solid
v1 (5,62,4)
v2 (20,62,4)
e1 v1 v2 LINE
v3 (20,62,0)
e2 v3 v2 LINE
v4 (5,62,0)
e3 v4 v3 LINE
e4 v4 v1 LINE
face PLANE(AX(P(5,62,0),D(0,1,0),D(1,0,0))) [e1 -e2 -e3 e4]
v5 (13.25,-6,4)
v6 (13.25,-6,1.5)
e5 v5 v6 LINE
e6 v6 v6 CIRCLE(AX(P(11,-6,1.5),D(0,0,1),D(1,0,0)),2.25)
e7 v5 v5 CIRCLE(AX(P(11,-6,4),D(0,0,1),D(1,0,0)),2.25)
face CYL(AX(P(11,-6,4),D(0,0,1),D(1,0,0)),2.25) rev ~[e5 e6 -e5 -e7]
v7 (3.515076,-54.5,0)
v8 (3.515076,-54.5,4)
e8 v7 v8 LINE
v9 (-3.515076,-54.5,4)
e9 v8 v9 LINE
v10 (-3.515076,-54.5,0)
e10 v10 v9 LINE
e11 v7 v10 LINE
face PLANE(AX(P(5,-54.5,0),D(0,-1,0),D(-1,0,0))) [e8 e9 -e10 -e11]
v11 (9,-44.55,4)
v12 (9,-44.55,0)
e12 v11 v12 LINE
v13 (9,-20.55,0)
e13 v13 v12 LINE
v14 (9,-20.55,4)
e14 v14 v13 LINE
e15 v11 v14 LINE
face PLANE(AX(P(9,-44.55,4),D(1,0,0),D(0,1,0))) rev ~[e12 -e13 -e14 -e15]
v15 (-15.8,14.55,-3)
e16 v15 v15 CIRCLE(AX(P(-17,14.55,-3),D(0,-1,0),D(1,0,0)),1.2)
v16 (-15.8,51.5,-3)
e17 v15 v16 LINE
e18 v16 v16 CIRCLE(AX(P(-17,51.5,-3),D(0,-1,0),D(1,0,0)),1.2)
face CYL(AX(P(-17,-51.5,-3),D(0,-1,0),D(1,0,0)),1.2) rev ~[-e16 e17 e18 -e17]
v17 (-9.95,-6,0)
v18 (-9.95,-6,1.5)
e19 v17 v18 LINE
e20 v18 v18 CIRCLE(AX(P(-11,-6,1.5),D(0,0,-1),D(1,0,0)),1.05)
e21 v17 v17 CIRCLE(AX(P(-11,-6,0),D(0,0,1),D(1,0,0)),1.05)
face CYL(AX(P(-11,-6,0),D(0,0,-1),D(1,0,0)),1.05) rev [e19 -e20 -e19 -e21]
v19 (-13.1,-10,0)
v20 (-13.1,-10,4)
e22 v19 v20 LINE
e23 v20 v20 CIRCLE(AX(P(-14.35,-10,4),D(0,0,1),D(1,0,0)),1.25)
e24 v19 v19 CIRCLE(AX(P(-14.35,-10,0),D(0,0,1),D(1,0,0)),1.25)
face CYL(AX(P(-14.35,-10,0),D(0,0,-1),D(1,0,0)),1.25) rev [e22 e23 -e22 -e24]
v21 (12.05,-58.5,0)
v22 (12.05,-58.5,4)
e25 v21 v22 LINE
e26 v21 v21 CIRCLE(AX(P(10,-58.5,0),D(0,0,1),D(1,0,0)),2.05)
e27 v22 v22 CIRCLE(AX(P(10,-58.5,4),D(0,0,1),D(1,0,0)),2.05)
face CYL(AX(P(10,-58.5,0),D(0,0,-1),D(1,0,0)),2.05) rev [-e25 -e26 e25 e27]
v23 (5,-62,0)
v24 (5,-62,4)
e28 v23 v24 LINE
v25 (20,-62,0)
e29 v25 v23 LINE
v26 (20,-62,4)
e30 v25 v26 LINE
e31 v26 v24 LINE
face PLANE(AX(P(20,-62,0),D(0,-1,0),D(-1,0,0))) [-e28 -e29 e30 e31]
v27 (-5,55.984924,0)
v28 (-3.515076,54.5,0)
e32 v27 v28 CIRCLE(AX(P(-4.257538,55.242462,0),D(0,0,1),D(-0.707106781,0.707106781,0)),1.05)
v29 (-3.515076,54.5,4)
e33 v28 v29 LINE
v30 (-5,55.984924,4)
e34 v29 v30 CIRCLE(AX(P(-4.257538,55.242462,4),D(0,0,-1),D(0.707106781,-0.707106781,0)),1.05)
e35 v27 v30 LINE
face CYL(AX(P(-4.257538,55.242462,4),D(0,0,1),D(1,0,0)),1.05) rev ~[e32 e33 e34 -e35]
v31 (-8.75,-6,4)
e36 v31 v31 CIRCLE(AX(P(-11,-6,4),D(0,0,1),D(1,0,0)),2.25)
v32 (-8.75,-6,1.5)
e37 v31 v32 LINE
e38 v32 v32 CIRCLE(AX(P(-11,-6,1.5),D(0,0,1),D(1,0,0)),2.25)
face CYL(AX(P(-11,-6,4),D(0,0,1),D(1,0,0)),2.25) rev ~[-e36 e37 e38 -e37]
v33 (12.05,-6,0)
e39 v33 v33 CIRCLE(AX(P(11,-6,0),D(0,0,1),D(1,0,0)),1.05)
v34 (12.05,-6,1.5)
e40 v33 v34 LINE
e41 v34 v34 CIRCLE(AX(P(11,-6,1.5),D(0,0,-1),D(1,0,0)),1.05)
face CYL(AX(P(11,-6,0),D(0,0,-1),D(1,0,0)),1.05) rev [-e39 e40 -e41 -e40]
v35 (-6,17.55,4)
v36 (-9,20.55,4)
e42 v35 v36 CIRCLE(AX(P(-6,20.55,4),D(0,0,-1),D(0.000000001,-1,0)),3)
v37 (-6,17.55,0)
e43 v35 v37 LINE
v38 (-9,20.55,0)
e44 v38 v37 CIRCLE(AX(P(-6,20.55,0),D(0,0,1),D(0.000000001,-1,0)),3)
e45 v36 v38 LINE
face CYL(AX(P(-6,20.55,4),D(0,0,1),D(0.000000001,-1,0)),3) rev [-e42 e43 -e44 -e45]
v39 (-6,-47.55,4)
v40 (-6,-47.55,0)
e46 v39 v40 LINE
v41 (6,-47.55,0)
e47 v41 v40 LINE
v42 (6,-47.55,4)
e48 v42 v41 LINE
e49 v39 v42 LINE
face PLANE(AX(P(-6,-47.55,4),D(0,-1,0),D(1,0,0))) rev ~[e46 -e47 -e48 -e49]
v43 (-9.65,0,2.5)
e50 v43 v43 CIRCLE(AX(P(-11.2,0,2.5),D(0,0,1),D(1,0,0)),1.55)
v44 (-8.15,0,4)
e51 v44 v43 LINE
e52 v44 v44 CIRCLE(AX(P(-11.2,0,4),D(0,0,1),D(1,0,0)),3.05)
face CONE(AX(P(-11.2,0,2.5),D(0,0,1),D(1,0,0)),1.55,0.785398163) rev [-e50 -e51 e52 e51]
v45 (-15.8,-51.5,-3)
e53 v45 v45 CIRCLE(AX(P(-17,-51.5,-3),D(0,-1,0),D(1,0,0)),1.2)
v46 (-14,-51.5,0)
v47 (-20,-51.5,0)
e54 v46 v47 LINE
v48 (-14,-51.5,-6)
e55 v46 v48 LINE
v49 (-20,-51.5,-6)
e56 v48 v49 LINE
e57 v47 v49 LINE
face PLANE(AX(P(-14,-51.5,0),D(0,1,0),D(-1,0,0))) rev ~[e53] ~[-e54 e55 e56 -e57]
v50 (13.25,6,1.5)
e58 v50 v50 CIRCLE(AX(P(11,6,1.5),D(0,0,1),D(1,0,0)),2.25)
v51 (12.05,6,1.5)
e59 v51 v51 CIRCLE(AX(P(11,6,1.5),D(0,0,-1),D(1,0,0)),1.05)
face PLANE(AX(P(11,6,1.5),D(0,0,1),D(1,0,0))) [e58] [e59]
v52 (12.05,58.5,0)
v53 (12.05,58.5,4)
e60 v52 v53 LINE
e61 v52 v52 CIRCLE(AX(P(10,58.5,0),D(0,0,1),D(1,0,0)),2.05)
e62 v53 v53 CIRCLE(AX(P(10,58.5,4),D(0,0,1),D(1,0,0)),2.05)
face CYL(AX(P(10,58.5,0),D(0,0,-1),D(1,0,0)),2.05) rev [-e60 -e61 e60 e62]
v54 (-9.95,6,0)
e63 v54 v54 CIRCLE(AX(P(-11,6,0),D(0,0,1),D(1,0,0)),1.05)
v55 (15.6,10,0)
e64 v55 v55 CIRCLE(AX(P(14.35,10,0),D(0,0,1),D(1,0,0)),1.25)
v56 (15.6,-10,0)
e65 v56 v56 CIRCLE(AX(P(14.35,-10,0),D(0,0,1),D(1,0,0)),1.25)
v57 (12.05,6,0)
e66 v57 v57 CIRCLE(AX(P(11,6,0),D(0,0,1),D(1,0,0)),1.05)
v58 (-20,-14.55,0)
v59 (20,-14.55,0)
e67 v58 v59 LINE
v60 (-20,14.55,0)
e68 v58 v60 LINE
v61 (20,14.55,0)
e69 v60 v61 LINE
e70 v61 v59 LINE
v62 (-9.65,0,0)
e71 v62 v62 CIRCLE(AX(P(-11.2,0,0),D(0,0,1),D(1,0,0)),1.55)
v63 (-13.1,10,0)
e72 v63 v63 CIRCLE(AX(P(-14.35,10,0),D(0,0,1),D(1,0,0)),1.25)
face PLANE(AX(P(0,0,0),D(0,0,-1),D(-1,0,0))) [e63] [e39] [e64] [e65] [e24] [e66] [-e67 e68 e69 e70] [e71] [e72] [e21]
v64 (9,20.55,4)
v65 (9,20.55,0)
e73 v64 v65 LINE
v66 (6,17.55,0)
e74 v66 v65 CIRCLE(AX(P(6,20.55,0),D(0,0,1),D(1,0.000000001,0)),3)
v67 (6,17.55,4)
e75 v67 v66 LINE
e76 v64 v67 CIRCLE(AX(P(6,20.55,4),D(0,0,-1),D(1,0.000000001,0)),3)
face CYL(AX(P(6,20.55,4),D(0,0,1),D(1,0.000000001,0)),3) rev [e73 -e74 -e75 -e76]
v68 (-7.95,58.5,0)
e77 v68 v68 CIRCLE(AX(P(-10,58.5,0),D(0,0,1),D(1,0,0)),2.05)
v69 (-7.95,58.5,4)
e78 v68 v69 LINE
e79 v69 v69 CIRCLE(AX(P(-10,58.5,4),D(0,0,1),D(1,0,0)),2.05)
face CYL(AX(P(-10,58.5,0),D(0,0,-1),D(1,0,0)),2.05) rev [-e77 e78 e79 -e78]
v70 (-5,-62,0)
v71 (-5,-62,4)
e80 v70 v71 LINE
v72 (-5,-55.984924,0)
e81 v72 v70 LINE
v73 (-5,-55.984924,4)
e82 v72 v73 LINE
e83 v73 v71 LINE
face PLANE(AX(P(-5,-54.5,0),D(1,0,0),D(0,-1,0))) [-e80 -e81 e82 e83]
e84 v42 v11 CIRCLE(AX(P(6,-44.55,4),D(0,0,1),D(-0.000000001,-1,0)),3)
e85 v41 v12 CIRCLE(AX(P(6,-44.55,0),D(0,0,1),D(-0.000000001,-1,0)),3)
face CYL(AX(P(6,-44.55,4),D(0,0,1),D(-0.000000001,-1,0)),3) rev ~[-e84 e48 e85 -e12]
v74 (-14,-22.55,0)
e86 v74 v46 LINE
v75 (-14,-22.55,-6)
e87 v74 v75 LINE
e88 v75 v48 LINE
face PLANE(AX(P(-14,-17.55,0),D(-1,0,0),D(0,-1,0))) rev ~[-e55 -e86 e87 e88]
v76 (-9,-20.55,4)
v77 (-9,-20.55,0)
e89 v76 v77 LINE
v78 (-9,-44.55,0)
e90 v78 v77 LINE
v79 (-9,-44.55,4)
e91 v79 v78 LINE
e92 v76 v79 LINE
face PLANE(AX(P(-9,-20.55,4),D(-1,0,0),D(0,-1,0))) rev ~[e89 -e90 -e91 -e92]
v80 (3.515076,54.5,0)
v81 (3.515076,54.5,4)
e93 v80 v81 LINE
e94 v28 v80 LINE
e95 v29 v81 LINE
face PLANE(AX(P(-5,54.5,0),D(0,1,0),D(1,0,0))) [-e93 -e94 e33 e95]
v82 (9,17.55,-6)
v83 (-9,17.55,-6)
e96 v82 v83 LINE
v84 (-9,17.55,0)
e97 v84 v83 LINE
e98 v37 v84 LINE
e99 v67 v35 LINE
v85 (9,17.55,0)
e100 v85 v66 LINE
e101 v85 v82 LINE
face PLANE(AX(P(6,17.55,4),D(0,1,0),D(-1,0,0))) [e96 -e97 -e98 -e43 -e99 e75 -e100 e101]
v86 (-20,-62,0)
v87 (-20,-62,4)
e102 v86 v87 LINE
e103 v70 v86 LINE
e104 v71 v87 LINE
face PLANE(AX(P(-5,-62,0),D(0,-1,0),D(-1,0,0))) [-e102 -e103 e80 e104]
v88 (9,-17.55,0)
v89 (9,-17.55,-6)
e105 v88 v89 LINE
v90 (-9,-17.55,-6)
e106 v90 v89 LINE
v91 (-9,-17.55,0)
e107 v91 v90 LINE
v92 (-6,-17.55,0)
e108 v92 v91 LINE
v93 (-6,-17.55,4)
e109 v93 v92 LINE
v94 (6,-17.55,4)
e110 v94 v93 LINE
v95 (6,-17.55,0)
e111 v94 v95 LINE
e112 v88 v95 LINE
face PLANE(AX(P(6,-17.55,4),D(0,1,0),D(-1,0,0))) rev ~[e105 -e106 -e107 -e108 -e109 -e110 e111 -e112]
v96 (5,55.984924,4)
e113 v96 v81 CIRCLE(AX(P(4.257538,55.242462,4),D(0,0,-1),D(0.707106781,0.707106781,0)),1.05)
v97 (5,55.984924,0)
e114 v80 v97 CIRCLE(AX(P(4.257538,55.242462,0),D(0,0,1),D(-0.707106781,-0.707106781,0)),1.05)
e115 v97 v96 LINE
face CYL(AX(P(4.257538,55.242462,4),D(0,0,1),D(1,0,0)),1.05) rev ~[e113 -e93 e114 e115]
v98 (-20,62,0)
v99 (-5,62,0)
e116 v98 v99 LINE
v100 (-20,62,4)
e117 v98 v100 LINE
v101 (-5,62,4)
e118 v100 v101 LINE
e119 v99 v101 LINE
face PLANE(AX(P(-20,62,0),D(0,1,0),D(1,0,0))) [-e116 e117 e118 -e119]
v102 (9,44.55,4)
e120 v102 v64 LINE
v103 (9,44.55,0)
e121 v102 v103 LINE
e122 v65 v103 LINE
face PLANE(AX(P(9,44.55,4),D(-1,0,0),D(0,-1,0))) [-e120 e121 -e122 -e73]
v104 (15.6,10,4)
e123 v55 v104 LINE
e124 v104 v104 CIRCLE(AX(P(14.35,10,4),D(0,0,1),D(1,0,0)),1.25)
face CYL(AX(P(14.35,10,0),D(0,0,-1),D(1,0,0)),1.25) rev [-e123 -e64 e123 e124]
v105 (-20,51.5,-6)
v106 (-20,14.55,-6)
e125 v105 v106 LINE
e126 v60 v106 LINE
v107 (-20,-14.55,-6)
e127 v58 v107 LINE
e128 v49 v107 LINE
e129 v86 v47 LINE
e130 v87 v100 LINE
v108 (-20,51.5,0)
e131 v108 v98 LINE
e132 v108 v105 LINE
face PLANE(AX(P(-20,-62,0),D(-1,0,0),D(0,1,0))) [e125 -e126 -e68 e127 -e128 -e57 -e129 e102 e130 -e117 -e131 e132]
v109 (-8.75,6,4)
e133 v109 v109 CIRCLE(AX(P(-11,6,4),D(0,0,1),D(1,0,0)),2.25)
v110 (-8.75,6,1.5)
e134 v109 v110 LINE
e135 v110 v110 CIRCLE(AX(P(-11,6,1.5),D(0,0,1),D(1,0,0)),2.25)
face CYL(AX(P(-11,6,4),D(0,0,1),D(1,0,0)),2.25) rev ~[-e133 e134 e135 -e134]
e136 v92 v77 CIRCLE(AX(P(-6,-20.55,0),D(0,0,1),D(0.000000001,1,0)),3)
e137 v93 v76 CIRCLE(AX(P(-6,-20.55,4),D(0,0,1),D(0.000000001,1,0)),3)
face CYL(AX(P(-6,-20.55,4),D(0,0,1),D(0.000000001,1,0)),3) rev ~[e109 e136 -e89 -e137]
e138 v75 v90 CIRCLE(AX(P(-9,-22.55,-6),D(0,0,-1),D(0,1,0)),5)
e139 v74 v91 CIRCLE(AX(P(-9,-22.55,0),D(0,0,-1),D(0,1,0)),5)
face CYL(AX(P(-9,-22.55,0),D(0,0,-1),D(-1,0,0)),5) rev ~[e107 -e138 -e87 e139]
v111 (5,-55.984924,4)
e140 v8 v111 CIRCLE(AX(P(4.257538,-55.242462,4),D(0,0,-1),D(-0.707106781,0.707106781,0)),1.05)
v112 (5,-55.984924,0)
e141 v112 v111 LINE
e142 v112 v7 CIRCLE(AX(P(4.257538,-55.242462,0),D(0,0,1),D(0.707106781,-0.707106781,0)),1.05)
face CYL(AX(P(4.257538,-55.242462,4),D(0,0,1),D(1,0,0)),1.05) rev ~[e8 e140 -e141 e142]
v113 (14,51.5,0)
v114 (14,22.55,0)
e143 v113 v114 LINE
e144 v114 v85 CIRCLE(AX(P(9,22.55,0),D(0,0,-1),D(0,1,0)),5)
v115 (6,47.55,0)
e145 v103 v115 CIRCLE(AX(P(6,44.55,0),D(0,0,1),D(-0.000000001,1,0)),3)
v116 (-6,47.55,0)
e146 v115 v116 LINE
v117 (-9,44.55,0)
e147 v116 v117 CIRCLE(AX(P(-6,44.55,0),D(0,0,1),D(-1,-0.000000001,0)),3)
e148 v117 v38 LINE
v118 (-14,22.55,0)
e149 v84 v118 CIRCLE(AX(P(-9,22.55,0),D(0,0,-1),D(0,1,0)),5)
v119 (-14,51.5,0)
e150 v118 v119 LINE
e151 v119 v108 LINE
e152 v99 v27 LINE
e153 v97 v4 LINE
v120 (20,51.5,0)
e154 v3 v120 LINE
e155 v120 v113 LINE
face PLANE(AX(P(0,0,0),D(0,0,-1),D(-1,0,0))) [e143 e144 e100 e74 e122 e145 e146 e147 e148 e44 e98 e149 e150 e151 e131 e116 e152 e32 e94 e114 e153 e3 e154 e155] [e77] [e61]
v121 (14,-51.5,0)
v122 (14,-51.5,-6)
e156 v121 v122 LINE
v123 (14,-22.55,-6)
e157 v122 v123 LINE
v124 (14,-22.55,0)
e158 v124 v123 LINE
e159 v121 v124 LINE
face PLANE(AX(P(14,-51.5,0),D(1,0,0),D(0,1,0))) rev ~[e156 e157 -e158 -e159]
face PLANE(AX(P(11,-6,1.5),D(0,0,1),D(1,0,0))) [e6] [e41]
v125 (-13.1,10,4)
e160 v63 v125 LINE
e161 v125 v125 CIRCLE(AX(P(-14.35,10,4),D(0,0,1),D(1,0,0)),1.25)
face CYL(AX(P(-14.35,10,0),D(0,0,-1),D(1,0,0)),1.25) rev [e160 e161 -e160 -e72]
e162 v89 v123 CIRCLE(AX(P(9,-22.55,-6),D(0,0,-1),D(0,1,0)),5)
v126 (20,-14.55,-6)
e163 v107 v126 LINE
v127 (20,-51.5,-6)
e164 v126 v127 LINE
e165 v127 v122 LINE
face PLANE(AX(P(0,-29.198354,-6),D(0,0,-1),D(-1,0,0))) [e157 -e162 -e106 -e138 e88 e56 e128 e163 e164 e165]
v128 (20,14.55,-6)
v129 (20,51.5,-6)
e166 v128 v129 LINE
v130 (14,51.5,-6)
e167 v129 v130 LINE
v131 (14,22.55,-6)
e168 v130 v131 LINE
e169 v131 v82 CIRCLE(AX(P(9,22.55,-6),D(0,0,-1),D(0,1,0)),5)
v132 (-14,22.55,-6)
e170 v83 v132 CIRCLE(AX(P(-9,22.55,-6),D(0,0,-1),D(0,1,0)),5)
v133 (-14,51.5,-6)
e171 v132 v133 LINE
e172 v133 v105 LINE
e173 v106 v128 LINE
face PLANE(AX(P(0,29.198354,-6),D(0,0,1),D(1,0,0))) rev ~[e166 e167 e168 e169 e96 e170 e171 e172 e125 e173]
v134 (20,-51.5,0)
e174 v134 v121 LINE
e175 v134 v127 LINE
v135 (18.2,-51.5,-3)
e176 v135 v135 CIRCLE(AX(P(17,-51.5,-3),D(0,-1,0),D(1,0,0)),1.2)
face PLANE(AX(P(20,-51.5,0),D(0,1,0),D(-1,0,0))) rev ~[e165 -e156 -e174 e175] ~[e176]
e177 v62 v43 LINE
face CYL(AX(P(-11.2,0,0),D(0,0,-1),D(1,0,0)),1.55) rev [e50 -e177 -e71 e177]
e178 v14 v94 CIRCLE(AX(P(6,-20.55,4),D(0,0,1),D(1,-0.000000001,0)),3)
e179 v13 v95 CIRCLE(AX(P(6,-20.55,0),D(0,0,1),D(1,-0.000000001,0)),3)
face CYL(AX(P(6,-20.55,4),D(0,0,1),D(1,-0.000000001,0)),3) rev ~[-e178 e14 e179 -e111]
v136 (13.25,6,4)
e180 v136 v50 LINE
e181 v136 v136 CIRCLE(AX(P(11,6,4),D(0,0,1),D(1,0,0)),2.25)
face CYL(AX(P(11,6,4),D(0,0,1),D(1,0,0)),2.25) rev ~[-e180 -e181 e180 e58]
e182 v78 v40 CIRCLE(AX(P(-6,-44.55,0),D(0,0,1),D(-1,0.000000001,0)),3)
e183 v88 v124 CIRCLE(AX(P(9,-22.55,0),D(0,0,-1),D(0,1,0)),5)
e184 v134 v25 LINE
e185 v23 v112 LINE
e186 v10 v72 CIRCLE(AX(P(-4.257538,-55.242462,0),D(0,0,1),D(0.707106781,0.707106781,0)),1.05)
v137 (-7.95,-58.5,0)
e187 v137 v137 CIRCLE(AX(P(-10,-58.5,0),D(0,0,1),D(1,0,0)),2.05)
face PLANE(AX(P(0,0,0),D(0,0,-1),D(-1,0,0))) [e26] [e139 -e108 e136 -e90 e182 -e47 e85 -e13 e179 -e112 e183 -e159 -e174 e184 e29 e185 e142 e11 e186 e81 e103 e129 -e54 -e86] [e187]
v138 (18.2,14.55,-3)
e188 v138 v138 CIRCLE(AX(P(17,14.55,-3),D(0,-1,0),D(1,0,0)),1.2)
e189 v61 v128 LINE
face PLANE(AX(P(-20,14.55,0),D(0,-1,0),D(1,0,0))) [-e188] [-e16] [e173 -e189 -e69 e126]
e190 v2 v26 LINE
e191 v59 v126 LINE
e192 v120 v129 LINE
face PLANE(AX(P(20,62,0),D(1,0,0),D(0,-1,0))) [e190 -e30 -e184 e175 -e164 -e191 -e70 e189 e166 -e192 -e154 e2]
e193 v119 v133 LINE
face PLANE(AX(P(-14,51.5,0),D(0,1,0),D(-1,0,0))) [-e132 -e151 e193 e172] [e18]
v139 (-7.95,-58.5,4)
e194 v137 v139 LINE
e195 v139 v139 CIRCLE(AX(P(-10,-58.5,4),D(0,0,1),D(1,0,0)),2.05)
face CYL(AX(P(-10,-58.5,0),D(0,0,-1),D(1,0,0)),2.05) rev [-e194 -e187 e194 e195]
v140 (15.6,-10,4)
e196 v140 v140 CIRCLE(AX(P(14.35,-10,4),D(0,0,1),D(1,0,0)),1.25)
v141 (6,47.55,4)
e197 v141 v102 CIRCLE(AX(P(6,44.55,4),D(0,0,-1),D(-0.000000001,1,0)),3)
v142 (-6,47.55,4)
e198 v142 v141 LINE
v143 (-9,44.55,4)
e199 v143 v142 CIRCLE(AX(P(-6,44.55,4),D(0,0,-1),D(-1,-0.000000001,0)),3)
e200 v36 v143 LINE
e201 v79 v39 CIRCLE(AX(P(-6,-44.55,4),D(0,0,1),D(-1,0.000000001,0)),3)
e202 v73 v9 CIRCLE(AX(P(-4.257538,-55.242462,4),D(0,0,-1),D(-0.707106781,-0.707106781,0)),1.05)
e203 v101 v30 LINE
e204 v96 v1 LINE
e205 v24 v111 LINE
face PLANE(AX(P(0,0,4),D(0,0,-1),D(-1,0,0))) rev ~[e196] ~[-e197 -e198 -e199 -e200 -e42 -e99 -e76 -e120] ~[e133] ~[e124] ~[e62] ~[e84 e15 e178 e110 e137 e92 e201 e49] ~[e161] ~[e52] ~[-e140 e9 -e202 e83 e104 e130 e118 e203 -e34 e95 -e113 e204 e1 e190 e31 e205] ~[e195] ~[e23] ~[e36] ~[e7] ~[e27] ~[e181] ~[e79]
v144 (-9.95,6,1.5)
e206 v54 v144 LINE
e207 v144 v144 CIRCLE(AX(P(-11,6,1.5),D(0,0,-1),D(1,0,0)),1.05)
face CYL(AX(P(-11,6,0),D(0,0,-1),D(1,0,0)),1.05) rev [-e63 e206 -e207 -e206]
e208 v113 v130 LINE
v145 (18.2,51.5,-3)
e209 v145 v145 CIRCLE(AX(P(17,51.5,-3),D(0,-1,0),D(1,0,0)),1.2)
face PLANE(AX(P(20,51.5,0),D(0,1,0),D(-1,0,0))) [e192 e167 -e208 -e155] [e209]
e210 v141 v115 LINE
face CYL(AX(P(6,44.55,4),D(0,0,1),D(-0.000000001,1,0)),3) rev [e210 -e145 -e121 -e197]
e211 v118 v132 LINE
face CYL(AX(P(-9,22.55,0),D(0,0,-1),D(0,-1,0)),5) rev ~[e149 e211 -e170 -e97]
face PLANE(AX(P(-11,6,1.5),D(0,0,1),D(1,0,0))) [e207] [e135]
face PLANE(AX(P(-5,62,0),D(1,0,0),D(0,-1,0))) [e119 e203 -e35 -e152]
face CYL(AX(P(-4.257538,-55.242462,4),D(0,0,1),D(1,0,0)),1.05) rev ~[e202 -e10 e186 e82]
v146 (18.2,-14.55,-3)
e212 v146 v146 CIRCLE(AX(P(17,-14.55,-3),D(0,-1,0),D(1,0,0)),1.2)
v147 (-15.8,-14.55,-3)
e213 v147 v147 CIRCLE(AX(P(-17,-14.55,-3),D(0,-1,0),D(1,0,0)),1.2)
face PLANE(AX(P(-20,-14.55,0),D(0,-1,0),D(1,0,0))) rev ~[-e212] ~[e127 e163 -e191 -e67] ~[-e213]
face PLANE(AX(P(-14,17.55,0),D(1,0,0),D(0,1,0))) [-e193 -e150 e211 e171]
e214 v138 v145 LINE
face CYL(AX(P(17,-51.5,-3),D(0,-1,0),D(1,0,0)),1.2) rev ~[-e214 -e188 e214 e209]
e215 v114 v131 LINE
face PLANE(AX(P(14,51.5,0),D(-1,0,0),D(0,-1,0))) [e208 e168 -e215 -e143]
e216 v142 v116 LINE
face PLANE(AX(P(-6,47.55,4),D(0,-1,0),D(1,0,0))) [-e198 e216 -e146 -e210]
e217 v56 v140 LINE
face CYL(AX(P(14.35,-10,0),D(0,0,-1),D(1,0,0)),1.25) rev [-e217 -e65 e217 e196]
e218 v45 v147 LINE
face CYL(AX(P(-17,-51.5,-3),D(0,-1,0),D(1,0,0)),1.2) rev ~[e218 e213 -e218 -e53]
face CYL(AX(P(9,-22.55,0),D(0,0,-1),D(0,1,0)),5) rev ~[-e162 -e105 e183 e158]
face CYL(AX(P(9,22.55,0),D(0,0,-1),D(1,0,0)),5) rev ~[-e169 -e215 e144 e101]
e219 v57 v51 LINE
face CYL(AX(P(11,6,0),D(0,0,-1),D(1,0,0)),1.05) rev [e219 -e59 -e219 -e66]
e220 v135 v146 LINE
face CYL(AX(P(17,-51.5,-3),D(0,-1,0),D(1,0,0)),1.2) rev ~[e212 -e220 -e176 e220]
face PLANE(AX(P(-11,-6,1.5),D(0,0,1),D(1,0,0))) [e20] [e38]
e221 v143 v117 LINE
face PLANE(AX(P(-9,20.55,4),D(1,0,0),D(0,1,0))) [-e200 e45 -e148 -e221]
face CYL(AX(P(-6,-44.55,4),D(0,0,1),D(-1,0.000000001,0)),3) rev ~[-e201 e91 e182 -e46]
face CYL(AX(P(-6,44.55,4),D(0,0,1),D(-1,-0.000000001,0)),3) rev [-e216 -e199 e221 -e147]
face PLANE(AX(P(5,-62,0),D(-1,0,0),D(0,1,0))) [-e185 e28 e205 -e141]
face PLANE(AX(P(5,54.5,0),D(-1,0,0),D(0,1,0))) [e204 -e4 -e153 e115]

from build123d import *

# Parameters (mm, degrees)
SKETCH_1_R               = 2.05
SKETCH_1_R_2             = 1.05
SKETCH_1_R_3             = 1.55
SKETCH_1_R_4             = 1.25
EXTRUDE_1_DEPTH          = 4
EXTRUDE_START            = -4
EXTRUDE_2_DEPTH          = 6
SKETCH_4_R               = 1.05
CUT_EXTRUDE_2_DEPTH      = 11
SKETCH_5_R               = 1.2
CUT_EXTRUDE_3_DEPTH      = 114.5
FILLET_1_R               = 5
SKETCH_6_R               = 2.25
CUT_EXTRUDE_4_DEPTH      = 2.5
CHAMFER_1_SIZE           = 1.5
CUT_EXTRUDE_6_DEPTH      = 1
CUT_EXTRUDE_6_DEPTH_BACK = 11


with BuildPart() as part:
    # 草图1 → 凸台-拉伸1 (new body)
    with BuildSketch(Plane.XY):
        Polygon((20, -62), (5, -62), (5, -54.5), (-5, -54.5), (-5, -62), (-20, -62), (-20, 62), (-5, 62), (-5, 54.5), (5, 54.5), (5, 62), (20, 62), align=None)
        with Locations((10, 58.5)):
            Circle(SKETCH_1_R, mode=Mode.SUBTRACT)
        with Locations((-10, 58.5)):
            Circle(SKETCH_1_R, mode=Mode.SUBTRACT)
        with Locations((10, -58.5)):
            Circle(SKETCH_1_R, mode=Mode.SUBTRACT)
        with Locations((-10, -58.5)):
            Circle(SKETCH_1_R, mode=Mode.SUBTRACT)
        with Locations((-11, 6)):
            Circle(SKETCH_1_R_2, mode=Mode.SUBTRACT)
        with Locations((-11, -6)):
            Circle(SKETCH_1_R_2, mode=Mode.SUBTRACT)
        with Locations((11, -6)):
            Circle(SKETCH_1_R_2, mode=Mode.SUBTRACT)
        with Locations((11, 6)):
            Circle(SKETCH_1_R_2, mode=Mode.SUBTRACT)
        with Locations((-11.2, 0)):
            Circle(SKETCH_1_R_3, mode=Mode.SUBTRACT)
        with Locations((-14.35, -10)):
            Circle(SKETCH_1_R_4, mode=Mode.SUBTRACT)
        with Locations((-14.35, 10)):
            Circle(SKETCH_1_R_4, mode=Mode.SUBTRACT)
        with Locations((14.35, 10)):
            Circle(SKETCH_1_R_4, mode=Mode.SUBTRACT)
        with Locations((14.35, -10)):
            Circle(SKETCH_1_R_4, mode=Mode.SUBTRACT)
    extrude(amount=EXTRUDE_1_DEPTH)

    # 草图3 → 凸台-拉伸2 (add)
    with BuildSketch(Plane.XY.offset(4).offset(EXTRUDE_START)):
        Polygon((-20, 14.55), (20, 14.55), (20, 51.5), (14, 51.5), (14, 17.55), (-14, 17.55), (-14, 51.5), (-20, 51.5), align=None)
        Polygon((14, -17.55), (-14, -17.55), (-14, -51.5), (-20, -51.5), (-20, -14.55), (20, -14.55), (20, -51.5), (14, -51.5), align=None)
    extrude(amount=-EXTRUDE_2_DEPTH)

    # 草图4 → 切除-拉伸2 (cut, through all)
    with BuildSketch(Plane.XY.offset(4)):
        with Locations((-4.25753788, -55.24246212)):
            Circle(SKETCH_4_R)
        with Locations((4.25753788, -55.24246212)):
            Circle(SKETCH_4_R)
        with Locations((4.25753788, 55.24246212)):
            Circle(SKETCH_4_R)
        with Locations((-4.25753788, 55.24246212)):
            Circle(SKETCH_4_R)
    extrude(amount=-CUT_EXTRUDE_2_DEPTH, mode=Mode.SUBTRACT)

    # 草图5 → 切除-拉伸3 (cut, through all)
    with BuildSketch(Plane.XZ.offset(51.5)):
        with Locations((17, -3)):
            Circle(SKETCH_5_R)
        with Locations((-17, -3)):
            Circle(SKETCH_5_R)
    extrude(amount=-CUT_EXTRUDE_3_DEPTH, mode=Mode.SUBTRACT)

    # 圆角1
    fillet_1_edges = [part.edges().sort_by_distance(p)[0] for p in [
        (14, -17.55, -3),
        (-14, -17.55, -3),
        (-14, 17.55, -3),
        (14, 17.55, -3),
    ]]
    fillet(fillet_1_edges, radius=FILLET_1_R)

    # 草图6 → 切除-拉伸4 (cut)
    with BuildSketch(Plane.XY.offset(4)):
        with Locations((-11, -6)):
            Circle(SKETCH_6_R)
        with Locations((-11, 6)):
            Circle(SKETCH_6_R)
        with Locations((11, 6)):
            Circle(SKETCH_6_R)
        with Locations((11, -6)):
            Circle(SKETCH_6_R)
    extrude(amount=-CUT_EXTRUDE_4_DEPTH, mode=Mode.SUBTRACT)

    # 倒角1
    chamfer_1_edges = [part.edges().sort_by_distance(p)[0] for p in [
        (-12.75, 0, 4),
    ]]
    chamfer(chamfer_1_edges, length=CHAMFER_1_SIZE)

    # 草图8 → 切除-拉伸6 (cut, two sides)
    with BuildSketch(Plane.XY.offset(4)) as cut_extrude_6_sk:
        with BuildLine():
            Line((6, -17.55), (-6, -17.55))
            ThreePointArc((-6, -17.55), (-8.121320344, -18.428679656), (-9, -20.55))
            Line((-9, -20.55), (-9, -44.55))
            ThreePointArc((-9, -44.55), (-8.121320344, -46.671320344), (-6, -47.55))
            Line((-6, -47.55), (6, -47.55))
            ThreePointArc((6, -47.55), (8.121320344, -46.671320344), (9, -44.55))
            Line((9, -44.55), (9, -20.55))
            ThreePointArc((9, -20.55), (8.121320344, -18.428679656), (6, -17.55))
        make_face()
        with BuildLine():
            Line((-9, 20.55), (-9, 44.55))
            ThreePointArc((-9, 44.55), (-8.121320344, 46.671320344), (-6, 47.55))
            Line((-6, 47.55), (6, 47.55))
            ThreePointArc((6, 47.55), (8.121320344, 46.671320344), (9, 44.55))
            Line((9, 44.55), (9, 20.55))
            ThreePointArc((9, 20.55), (8.121320344, 18.428679656), (6, 17.55))
            Line((6, 17.55), (-6, 17.55))
            ThreePointArc((-6, 17.55), (-8.121320344, 18.428679656), (-9, 20.55))
        make_face()
    extrude(amount=CUT_EXTRUDE_6_DEPTH, mode=Mode.SUBTRACT)
    extrude(cut_extrude_6_sk.sketch, amount=-CUT_EXTRUDE_6_DEPTH_BACK, mode=Mode.SUBTRACT)


solid = part.part
